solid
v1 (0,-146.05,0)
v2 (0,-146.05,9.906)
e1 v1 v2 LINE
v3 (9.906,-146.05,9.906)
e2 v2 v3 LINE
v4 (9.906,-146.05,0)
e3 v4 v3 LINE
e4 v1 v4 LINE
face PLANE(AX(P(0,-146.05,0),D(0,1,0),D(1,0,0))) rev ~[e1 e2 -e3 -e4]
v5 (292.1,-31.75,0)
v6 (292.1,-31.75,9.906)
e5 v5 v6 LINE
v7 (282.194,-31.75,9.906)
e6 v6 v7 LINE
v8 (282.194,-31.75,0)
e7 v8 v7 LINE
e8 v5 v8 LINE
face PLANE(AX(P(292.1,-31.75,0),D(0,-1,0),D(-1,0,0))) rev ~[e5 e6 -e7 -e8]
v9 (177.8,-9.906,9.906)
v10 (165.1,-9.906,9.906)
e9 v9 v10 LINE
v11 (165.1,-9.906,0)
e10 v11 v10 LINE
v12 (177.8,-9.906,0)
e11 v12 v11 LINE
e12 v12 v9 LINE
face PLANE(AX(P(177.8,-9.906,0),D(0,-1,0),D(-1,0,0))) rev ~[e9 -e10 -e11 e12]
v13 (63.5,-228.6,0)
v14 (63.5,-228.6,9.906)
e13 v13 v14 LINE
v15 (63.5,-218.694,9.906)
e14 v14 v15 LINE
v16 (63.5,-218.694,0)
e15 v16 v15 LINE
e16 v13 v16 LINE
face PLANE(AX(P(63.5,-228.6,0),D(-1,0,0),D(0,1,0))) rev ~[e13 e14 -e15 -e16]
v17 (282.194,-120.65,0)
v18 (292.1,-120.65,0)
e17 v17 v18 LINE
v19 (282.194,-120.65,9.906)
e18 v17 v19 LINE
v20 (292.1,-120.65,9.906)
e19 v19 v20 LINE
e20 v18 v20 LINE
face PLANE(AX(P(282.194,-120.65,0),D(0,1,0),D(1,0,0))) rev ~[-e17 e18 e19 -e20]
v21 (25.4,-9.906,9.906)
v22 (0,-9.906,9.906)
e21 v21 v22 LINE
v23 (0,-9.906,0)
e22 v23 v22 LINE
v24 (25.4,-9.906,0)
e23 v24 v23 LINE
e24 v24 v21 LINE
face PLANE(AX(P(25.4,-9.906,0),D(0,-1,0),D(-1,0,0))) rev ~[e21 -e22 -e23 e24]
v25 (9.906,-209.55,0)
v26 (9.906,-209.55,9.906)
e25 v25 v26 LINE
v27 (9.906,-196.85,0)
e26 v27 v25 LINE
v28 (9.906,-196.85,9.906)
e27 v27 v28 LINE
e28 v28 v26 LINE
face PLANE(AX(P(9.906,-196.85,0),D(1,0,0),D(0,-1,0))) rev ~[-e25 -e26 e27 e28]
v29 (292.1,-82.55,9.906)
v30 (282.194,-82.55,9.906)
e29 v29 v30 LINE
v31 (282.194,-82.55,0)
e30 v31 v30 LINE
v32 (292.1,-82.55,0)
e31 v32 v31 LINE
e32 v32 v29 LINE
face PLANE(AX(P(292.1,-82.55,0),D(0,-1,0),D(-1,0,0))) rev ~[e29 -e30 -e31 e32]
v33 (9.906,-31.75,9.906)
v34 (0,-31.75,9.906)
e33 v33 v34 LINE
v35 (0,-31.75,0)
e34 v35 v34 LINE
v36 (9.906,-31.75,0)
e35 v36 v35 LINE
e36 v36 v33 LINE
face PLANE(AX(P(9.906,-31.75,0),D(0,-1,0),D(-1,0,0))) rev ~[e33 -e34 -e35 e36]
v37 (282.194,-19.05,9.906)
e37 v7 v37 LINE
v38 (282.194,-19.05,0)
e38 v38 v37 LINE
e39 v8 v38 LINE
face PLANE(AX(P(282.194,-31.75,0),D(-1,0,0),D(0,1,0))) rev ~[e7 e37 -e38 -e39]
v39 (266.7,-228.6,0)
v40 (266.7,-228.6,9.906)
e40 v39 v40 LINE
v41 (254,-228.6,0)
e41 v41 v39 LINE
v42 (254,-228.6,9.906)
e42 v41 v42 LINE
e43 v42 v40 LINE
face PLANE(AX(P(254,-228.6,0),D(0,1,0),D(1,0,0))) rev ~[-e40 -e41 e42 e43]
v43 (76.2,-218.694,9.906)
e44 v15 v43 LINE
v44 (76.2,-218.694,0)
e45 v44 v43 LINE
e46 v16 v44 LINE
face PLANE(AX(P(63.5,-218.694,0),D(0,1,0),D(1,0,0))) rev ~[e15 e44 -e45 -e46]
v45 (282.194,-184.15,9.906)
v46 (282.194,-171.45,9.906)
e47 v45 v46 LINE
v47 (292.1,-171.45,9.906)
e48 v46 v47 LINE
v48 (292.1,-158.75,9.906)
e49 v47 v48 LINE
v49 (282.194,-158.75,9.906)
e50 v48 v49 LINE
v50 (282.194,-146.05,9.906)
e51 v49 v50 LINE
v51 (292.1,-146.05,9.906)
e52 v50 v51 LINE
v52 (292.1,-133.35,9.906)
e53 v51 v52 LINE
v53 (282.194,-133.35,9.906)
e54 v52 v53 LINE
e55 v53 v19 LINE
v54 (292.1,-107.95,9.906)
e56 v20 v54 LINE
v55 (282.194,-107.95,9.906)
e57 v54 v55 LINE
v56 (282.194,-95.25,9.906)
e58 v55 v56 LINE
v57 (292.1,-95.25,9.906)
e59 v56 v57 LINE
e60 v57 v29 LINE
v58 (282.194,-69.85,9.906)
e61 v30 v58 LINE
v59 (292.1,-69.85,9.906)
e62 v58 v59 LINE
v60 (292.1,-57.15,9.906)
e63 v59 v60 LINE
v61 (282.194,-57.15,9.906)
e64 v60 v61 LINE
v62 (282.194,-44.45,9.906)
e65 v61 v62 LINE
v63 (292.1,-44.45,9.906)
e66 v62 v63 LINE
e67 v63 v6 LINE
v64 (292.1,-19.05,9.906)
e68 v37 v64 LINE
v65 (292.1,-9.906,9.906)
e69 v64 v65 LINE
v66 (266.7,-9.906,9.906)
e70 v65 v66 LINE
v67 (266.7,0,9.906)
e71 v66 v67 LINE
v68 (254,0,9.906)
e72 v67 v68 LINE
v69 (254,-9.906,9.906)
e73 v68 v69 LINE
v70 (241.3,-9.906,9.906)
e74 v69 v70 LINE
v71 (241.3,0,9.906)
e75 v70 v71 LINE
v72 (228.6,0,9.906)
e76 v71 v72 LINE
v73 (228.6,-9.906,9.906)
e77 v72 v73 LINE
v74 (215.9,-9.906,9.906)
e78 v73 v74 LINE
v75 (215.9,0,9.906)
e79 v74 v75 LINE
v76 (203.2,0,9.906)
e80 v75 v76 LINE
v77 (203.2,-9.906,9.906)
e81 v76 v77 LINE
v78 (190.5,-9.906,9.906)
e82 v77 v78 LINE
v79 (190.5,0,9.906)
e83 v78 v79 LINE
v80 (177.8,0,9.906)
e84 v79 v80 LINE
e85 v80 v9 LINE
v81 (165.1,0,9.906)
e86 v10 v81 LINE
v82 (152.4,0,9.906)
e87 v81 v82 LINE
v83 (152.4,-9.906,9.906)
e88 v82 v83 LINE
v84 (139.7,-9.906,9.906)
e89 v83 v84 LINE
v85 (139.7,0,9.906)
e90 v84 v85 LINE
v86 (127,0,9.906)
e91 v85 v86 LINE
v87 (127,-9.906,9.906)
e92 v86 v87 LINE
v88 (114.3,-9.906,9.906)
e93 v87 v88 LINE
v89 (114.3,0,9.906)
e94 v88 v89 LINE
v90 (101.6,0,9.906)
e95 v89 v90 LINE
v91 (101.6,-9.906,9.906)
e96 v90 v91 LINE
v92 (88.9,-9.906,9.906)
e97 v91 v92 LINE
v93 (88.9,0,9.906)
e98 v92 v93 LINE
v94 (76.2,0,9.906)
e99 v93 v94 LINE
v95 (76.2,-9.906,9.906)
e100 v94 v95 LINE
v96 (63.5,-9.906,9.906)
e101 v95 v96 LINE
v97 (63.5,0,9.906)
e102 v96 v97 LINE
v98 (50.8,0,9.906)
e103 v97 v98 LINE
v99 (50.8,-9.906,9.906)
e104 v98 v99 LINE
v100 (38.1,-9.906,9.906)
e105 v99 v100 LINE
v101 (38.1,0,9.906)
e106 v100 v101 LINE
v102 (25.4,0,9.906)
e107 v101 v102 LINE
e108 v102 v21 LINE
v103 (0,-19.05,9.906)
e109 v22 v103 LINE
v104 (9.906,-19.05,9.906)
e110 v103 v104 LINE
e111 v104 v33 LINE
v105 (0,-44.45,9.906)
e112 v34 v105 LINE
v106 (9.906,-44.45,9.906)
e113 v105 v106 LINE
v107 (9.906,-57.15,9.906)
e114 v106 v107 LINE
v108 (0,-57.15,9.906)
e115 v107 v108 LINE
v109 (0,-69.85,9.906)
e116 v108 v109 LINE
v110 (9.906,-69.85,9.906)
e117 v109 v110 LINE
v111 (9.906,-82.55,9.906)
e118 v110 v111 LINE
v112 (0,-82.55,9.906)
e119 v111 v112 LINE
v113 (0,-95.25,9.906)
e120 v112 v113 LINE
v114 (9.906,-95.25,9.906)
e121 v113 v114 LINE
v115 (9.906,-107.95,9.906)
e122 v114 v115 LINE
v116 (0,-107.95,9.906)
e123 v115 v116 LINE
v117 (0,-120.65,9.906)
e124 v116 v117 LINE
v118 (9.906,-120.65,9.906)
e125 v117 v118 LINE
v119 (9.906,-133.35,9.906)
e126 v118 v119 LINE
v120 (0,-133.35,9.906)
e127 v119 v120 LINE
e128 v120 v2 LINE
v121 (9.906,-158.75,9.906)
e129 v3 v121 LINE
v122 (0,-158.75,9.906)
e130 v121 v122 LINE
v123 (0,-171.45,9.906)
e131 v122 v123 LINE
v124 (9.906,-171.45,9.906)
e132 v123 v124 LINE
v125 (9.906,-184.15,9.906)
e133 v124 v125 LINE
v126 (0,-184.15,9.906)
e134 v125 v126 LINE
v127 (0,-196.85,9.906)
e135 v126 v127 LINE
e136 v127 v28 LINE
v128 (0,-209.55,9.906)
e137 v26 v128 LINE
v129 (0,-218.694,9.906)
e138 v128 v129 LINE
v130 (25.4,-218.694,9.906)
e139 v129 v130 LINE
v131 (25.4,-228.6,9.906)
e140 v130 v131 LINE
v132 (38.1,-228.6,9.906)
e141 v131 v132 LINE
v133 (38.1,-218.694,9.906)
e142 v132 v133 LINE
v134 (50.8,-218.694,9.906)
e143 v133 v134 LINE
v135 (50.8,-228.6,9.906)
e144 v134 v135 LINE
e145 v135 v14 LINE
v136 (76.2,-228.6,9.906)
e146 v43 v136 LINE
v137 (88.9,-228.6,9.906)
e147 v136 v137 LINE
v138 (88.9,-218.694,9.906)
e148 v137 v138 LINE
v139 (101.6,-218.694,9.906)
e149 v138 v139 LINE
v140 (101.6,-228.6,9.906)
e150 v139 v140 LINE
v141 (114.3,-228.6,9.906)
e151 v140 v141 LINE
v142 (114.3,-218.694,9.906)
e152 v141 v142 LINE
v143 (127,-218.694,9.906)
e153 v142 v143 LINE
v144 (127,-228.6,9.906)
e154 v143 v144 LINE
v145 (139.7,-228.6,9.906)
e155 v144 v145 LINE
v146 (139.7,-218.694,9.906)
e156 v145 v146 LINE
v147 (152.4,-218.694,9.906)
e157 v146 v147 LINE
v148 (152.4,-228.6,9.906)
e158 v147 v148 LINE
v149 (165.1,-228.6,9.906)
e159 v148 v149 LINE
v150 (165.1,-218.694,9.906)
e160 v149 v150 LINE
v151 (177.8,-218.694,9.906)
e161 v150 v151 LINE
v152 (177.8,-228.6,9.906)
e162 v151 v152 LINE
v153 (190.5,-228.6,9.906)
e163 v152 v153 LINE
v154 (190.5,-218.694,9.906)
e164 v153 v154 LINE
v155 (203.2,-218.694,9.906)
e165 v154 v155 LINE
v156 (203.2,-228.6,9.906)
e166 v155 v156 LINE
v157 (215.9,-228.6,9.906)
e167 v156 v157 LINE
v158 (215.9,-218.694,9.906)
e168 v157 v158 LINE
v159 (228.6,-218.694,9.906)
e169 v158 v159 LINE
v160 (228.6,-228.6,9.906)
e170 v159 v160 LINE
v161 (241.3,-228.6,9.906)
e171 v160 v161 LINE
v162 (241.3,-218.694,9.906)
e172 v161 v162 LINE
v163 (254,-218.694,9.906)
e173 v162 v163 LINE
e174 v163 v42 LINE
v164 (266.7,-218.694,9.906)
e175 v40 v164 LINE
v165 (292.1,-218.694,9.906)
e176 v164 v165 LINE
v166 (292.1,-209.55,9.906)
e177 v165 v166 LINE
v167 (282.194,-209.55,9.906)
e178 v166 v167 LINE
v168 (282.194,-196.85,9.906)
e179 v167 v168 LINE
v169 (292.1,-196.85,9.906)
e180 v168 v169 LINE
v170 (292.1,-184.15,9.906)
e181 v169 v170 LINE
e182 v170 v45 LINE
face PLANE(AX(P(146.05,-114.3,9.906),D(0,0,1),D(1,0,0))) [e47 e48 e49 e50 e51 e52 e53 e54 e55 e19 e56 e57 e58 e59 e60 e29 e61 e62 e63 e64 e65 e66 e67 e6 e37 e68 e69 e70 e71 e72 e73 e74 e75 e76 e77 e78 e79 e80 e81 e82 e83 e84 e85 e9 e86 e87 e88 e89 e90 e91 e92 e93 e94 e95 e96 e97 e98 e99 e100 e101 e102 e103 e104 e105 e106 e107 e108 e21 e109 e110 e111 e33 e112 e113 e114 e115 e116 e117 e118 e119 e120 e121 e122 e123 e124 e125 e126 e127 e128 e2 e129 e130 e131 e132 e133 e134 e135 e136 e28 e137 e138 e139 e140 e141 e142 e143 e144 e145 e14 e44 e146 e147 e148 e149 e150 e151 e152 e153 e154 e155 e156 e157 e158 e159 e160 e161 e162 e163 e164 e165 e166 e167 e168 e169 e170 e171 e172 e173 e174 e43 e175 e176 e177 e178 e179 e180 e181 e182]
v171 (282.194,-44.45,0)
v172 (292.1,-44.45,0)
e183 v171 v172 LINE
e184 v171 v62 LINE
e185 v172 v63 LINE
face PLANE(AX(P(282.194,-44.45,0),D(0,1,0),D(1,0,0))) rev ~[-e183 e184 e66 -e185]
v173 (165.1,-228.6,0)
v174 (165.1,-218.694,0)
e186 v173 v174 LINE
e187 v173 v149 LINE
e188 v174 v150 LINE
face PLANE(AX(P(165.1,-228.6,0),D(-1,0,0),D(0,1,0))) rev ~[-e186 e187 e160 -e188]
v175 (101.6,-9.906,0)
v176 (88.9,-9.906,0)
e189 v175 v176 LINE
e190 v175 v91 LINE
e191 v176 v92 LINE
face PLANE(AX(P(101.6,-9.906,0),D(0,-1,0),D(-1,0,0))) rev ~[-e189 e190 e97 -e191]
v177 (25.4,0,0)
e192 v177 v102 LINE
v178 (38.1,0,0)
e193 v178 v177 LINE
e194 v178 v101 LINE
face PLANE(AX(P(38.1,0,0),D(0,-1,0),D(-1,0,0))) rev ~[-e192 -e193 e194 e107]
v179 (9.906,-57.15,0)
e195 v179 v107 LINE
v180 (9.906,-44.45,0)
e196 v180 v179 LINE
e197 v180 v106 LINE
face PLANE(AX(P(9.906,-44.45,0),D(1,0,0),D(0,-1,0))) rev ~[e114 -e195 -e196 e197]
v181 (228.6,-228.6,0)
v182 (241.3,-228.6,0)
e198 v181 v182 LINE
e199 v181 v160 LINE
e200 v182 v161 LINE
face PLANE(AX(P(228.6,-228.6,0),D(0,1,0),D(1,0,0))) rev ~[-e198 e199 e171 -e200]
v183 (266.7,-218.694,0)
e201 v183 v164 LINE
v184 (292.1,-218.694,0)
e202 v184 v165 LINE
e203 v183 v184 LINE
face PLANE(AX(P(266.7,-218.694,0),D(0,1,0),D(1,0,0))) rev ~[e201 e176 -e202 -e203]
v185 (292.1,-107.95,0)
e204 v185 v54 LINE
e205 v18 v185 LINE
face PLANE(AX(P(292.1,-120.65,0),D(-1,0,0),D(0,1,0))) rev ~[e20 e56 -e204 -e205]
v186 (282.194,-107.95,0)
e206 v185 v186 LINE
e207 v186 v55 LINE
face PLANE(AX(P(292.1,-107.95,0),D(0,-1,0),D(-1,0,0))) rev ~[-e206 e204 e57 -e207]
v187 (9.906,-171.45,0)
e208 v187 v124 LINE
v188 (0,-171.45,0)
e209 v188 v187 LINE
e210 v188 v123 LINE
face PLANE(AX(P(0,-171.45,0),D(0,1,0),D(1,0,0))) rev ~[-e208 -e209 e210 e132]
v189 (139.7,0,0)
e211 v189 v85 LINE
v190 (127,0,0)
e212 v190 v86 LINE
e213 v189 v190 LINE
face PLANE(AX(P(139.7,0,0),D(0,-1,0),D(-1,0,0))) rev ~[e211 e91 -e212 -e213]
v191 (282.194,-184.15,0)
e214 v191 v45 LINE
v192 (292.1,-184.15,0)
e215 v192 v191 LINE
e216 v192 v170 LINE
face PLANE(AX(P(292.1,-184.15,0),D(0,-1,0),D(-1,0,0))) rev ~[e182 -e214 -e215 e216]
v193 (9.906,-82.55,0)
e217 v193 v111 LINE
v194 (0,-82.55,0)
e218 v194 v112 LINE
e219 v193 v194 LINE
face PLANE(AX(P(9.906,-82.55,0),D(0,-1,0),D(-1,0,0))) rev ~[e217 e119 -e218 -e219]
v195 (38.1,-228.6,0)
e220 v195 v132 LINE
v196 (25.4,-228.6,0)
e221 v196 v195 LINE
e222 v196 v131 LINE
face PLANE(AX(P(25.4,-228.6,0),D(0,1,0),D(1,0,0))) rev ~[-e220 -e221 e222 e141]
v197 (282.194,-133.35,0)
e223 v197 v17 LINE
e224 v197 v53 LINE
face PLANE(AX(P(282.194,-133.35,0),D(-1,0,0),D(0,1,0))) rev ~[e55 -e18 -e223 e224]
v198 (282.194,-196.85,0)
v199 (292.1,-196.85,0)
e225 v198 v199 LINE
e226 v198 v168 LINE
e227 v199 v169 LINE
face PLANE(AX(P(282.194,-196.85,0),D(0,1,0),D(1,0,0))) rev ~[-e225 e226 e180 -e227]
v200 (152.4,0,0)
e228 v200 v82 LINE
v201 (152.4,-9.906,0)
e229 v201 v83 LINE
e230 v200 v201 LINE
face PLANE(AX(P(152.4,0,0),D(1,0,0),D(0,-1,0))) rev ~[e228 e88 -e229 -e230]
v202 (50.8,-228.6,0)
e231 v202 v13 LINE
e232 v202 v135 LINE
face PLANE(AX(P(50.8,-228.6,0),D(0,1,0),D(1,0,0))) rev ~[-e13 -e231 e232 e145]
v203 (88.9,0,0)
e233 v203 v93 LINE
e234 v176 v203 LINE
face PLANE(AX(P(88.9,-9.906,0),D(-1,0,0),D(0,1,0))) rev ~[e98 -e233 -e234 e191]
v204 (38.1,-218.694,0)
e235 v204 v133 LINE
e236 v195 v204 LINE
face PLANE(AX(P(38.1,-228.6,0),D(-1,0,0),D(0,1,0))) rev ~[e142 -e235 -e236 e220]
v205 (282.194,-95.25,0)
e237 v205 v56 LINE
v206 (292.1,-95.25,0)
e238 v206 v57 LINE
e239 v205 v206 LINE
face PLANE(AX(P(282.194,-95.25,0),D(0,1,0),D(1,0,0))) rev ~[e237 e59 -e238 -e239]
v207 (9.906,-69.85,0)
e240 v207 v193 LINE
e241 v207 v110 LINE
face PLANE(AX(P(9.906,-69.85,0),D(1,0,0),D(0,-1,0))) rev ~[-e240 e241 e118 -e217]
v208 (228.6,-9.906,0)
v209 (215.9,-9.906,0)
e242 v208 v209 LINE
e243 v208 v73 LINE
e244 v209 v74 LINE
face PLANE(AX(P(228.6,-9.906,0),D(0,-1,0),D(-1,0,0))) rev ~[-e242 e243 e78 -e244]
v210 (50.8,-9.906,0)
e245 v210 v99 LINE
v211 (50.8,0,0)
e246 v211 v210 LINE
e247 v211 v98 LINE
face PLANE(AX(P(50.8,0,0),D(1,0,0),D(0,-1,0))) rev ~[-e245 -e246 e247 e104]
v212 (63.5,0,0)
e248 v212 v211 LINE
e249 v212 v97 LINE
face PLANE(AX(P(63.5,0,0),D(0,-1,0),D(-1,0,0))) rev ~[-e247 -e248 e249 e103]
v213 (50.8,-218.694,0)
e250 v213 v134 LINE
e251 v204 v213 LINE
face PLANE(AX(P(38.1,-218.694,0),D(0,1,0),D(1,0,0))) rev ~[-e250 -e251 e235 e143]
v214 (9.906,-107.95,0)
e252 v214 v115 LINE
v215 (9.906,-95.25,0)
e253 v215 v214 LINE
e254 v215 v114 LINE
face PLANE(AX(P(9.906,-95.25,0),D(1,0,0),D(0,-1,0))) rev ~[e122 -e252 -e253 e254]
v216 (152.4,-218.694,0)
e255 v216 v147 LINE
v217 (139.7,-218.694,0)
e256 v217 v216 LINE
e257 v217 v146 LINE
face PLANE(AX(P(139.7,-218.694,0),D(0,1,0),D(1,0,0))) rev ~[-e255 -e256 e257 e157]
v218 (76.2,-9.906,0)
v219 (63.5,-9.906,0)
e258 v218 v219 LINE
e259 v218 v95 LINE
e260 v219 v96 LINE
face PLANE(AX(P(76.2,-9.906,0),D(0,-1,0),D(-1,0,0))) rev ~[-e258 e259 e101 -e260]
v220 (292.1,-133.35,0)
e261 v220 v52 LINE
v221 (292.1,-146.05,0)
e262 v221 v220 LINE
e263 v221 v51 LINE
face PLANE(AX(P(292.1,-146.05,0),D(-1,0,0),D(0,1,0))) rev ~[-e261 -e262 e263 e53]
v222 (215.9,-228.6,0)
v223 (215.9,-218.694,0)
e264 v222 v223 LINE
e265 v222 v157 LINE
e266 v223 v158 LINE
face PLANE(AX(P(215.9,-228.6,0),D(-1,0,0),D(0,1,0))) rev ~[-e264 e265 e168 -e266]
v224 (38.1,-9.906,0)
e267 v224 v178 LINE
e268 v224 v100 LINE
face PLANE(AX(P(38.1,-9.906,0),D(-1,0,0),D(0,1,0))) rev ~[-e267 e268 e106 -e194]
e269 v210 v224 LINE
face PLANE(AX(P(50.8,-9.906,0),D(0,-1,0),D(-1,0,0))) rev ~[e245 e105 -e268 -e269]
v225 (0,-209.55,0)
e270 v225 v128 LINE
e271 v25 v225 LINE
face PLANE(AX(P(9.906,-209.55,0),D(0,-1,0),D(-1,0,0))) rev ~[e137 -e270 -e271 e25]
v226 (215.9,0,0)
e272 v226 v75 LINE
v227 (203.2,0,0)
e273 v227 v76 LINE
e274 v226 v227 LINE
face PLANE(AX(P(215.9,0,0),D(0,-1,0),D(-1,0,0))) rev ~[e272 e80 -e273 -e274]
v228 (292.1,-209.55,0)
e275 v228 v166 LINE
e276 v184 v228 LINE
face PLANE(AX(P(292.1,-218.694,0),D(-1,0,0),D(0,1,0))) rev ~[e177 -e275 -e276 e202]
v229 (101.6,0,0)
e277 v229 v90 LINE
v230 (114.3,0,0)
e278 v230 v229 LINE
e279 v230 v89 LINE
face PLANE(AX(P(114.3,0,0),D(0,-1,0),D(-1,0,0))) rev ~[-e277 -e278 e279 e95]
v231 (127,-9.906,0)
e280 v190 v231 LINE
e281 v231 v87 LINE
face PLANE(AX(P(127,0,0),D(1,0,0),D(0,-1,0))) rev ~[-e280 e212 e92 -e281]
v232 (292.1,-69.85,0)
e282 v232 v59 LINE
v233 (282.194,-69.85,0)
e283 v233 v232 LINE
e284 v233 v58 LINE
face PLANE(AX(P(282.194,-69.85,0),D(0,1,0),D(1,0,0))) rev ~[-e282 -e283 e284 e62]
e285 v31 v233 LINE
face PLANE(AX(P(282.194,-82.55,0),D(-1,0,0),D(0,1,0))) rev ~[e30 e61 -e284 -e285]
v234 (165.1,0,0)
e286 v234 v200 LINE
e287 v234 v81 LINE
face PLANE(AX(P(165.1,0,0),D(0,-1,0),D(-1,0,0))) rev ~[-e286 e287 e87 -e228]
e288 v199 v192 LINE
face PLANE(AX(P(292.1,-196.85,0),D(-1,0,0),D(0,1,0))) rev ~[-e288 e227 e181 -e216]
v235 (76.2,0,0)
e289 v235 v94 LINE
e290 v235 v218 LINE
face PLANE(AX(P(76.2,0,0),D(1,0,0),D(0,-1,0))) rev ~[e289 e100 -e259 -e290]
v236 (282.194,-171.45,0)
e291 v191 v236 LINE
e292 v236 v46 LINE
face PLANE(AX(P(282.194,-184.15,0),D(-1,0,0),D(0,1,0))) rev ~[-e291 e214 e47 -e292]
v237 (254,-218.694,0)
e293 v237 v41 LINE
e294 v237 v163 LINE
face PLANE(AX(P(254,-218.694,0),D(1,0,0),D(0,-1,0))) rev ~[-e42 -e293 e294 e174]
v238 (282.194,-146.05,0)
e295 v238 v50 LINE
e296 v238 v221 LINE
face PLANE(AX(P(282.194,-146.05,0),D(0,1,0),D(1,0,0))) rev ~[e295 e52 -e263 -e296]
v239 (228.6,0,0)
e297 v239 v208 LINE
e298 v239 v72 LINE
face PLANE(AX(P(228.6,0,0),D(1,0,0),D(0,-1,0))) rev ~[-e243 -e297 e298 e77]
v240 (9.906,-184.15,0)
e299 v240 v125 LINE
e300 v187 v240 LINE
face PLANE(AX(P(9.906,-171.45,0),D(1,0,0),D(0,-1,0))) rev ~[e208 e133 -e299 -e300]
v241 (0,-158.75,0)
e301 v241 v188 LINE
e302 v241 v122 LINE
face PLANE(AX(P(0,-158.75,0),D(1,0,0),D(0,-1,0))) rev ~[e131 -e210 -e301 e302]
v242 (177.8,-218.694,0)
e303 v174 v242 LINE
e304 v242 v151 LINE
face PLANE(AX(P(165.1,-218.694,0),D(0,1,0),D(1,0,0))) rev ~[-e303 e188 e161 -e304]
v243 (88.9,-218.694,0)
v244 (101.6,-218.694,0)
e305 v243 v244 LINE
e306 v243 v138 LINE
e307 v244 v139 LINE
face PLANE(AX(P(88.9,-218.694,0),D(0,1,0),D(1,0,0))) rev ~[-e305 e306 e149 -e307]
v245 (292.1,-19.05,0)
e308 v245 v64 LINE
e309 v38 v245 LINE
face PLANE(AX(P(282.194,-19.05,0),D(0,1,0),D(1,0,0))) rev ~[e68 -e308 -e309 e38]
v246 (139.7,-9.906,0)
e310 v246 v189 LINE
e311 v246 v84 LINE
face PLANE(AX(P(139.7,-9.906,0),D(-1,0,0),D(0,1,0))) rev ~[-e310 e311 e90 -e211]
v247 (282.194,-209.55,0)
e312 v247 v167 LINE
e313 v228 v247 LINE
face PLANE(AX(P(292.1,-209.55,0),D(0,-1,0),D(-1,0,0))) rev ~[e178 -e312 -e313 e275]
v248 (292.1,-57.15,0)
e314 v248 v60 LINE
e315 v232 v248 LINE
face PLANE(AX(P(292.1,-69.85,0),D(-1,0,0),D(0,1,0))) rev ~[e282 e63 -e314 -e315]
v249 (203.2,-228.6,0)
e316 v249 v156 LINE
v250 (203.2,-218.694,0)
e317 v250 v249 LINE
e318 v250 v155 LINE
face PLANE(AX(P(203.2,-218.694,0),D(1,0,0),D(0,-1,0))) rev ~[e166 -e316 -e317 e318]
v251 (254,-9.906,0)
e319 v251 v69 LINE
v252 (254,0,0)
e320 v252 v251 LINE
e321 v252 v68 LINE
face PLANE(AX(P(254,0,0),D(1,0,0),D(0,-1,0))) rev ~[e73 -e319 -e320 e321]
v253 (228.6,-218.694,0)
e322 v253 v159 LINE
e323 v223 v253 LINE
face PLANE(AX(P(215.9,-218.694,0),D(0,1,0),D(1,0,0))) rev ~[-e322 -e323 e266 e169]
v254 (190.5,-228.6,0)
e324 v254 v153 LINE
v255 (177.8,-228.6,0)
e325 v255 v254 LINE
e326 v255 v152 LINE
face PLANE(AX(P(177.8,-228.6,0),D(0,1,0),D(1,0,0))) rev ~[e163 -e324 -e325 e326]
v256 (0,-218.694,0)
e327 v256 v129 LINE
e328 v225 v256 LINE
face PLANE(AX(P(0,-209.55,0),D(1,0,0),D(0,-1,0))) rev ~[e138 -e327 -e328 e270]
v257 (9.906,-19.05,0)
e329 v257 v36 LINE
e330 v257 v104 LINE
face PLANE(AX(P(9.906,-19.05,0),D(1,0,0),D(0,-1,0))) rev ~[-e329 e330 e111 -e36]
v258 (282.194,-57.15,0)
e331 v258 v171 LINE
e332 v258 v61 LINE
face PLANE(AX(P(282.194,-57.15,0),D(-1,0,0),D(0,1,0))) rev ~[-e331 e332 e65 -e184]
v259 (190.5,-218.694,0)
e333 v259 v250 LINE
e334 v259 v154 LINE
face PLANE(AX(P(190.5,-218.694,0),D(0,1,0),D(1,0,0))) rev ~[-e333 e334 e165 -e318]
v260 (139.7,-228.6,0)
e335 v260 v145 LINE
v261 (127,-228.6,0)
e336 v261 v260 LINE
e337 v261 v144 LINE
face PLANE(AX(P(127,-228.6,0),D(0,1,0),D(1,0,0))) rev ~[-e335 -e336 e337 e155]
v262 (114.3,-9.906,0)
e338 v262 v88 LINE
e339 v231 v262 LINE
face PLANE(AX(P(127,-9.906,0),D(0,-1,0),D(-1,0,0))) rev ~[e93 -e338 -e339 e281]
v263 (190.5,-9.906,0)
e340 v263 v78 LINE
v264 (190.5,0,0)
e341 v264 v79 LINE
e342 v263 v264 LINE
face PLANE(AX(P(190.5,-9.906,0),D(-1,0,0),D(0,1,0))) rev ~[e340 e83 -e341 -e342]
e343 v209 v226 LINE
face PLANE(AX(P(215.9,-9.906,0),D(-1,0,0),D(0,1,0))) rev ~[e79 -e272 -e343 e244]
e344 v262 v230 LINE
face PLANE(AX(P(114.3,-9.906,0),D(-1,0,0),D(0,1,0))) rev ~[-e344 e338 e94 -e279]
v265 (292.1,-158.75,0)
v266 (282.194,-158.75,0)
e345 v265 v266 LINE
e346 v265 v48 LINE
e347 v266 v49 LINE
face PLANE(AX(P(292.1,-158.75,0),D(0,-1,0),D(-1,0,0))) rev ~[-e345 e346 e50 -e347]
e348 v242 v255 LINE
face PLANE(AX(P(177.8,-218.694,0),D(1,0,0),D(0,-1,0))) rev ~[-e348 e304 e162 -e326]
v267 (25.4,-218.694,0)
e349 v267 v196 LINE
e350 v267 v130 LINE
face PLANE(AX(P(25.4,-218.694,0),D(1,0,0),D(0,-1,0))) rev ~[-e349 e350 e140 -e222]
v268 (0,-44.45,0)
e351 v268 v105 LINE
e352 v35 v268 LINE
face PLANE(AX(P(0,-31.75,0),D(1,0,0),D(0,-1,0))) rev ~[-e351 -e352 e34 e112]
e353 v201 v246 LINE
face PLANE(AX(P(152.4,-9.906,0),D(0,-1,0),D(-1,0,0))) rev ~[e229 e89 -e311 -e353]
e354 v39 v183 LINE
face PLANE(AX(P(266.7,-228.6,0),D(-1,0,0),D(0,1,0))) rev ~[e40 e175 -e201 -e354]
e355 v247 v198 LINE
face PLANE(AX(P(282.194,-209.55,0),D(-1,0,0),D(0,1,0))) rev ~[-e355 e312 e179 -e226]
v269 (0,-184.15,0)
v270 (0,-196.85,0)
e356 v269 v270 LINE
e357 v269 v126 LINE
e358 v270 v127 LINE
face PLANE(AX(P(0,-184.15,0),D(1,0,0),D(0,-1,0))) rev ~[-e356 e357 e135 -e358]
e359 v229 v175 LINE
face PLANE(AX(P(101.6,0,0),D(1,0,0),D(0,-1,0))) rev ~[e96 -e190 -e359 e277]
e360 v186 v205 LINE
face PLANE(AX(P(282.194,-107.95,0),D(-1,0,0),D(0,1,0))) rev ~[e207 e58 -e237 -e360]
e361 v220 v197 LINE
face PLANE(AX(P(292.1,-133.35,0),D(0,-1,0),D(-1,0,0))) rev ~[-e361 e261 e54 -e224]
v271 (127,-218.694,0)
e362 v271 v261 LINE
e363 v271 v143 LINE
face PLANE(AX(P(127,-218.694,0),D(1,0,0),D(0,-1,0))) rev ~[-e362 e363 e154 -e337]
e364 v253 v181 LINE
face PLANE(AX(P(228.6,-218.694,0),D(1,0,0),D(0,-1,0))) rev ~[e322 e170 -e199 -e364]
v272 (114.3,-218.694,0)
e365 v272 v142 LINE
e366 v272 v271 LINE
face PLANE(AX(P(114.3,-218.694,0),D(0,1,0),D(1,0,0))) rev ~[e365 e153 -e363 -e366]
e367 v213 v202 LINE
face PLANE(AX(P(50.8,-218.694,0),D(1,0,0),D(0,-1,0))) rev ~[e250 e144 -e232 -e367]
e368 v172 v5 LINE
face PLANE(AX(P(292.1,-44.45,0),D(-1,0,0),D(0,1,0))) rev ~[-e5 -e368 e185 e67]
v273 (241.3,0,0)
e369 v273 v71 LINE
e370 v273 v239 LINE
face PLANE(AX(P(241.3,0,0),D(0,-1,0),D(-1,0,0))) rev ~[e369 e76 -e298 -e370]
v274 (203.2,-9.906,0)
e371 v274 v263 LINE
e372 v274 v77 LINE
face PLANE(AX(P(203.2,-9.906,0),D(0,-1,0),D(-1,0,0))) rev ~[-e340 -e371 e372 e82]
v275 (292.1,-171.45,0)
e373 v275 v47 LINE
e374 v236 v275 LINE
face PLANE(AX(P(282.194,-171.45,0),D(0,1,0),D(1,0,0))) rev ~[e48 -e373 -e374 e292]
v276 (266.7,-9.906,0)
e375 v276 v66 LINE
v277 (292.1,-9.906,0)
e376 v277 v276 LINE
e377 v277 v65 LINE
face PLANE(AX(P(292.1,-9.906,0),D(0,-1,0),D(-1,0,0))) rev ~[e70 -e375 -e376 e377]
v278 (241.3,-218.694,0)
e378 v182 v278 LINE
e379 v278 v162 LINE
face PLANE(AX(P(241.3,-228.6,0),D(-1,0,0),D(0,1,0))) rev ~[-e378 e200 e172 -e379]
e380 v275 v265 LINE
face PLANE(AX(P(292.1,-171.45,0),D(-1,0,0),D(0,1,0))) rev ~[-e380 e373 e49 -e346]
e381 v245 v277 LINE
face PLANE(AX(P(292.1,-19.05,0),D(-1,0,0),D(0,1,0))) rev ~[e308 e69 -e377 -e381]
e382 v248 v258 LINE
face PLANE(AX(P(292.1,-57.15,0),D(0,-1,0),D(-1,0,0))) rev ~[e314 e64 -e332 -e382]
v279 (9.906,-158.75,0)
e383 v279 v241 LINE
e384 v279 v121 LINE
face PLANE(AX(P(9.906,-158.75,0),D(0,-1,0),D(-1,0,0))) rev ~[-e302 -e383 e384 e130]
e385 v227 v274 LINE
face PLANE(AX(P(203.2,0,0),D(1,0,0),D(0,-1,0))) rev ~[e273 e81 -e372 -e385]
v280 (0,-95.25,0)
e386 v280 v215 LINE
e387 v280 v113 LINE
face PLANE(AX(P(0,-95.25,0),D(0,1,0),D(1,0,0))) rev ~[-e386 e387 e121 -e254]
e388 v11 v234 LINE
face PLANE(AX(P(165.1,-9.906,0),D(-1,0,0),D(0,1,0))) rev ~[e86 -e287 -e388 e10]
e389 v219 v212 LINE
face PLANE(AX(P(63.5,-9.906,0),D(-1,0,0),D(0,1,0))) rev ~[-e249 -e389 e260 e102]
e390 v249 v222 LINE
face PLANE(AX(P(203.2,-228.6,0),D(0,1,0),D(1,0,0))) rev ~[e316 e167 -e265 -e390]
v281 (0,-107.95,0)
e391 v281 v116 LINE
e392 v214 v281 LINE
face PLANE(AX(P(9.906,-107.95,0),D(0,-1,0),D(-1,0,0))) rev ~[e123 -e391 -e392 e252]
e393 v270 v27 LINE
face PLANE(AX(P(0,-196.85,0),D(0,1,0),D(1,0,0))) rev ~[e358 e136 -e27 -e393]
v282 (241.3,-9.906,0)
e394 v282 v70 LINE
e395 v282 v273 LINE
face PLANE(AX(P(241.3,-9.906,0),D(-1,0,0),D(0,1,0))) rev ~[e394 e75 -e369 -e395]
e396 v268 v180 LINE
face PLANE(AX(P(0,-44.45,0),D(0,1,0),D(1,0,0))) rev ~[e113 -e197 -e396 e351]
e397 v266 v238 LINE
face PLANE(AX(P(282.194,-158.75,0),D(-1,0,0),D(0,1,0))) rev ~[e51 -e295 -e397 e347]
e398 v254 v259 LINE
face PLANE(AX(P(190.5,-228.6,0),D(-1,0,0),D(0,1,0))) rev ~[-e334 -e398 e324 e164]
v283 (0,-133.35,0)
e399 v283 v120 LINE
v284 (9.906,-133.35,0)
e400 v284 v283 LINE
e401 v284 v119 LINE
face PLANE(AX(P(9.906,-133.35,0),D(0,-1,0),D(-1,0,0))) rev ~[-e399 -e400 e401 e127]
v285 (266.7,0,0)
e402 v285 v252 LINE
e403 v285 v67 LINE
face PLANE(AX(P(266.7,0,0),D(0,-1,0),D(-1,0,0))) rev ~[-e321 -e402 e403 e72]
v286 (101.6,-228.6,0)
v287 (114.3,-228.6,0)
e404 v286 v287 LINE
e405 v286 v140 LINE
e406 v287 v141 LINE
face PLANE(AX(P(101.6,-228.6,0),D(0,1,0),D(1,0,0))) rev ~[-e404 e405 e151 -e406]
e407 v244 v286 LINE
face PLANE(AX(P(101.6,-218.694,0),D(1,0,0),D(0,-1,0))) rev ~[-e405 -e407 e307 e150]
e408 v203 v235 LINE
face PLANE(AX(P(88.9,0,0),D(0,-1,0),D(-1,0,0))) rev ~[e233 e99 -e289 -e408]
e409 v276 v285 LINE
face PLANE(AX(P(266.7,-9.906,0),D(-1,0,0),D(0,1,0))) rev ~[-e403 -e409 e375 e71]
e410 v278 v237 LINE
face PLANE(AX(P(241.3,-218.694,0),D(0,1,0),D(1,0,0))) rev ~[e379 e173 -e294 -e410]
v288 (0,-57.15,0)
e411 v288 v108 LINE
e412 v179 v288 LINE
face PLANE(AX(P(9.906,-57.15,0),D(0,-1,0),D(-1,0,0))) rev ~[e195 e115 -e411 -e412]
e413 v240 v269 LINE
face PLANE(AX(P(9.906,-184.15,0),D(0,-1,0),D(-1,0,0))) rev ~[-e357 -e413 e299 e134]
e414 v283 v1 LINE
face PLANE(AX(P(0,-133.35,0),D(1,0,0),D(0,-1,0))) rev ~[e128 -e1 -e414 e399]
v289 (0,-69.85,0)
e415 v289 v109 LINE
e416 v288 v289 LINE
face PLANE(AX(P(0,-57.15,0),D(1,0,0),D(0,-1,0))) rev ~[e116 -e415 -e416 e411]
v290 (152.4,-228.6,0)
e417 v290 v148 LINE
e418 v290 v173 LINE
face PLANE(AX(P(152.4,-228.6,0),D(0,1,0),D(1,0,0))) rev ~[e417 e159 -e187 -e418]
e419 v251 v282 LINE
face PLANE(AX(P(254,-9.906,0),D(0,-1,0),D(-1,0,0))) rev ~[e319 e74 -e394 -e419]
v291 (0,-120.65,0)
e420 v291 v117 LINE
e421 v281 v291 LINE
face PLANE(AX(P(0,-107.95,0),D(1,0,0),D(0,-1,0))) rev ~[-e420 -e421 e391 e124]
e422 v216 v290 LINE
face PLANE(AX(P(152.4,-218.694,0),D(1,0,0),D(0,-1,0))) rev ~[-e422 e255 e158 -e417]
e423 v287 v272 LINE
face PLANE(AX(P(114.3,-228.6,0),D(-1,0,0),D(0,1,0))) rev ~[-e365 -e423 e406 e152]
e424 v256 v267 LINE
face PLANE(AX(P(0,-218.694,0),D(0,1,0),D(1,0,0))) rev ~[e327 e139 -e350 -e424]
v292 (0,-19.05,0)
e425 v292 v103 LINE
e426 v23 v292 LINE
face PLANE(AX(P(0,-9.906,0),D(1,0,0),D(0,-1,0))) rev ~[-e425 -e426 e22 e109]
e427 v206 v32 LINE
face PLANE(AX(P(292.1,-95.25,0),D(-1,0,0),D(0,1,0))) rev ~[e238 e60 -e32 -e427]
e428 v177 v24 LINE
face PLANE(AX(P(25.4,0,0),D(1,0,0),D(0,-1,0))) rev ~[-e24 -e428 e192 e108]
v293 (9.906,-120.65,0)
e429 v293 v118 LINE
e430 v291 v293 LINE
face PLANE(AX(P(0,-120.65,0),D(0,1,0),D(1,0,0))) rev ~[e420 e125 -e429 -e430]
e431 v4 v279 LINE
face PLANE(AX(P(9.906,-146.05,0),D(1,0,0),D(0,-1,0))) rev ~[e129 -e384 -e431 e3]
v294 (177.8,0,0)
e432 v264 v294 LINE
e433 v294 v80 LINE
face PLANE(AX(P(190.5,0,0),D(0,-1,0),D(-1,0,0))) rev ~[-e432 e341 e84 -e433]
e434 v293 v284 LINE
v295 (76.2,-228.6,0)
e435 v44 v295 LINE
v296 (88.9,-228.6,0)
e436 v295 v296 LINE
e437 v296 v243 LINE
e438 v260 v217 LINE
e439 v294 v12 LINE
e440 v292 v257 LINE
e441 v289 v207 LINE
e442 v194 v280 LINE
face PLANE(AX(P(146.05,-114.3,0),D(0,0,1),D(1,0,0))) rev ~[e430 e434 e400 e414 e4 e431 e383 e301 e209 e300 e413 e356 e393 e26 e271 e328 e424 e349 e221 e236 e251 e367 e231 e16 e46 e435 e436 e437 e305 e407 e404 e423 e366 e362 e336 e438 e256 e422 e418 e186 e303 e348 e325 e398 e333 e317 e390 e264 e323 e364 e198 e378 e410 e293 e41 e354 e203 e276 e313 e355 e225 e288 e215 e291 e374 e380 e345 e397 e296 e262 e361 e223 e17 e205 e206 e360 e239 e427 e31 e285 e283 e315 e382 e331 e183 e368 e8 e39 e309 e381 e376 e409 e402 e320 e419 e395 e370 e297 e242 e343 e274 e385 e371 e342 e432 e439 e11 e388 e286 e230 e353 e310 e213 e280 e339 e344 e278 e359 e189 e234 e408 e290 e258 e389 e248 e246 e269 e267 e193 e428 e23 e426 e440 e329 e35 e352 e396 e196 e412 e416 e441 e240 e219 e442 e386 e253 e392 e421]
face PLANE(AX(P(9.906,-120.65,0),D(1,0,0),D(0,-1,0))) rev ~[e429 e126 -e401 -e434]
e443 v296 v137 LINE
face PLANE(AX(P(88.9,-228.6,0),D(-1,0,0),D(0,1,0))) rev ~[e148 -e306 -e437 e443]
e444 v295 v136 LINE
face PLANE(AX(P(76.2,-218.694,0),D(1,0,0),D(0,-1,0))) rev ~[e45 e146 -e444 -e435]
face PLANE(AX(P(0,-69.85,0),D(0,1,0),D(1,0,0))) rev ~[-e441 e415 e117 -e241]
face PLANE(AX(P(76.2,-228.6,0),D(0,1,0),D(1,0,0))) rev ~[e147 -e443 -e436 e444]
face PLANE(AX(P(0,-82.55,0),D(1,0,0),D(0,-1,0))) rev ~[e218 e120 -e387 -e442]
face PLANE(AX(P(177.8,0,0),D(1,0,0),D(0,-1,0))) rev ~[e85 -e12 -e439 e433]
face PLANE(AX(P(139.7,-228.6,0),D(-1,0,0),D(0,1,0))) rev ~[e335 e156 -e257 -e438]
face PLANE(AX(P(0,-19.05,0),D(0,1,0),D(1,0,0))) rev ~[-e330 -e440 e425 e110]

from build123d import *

# Parameters (mm, degrees)
F1_DEPTH = 9.906


with BuildPart() as f1:
    # F0 (on Top) → F1 (new body)
    with BuildSketch(Plane.XY):
        Polygon((38.1, 0), (25.4, 0), (25.4, -9.906), (0, -9.906), (0, -19.05), (9.906, -19.05), (9.906, -31.75), (0, -31.75), (0, -44.45), (9.906, -44.45), (9.906, -57.15), (0, -57.15), (0, -69.85), (9.906, -69.85), (9.906, -82.55), (0, -82.55), (0, -95.25), (9.906, -95.25), (9.906, -107.95), (0, -107.95), (0, -120.65), (9.906, -120.65), (9.906, -133.35), (0, -133.35), (0, -146.05), (9.906, -146.05), (9.906, -158.75), (0, -158.75), (0, -171.45), (9.906, -171.45), (9.906, -184.15), (0, -184.15), (0, -196.85), (9.906, -196.85), (9.906, -209.55), (0, -209.55), (0, -218.694), (25.4, -218.694), (25.4, -228.6), (38.1, -228.6), (38.1, -218.694), (50.8, -218.694), (50.8, -228.6), (63.5, -228.6), (63.5, -218.694), (76.2, -218.694), (76.2, -228.6), (88.9, -228.6), (88.9, -218.694), (101.6, -218.694), (101.6, -228.6), (114.3, -228.6), (114.3, -218.694), (127, -218.694), (127, -228.6), (139.7, -228.6), (139.7, -218.694), (152.4, -218.694), (152.4, -228.6), (165.1, -228.6), (165.1, -218.694), (177.8, -218.694), (177.8, -228.6), (190.5, -228.6), (190.5, -218.694), (203.2, -218.694), (203.2, -228.6), (215.9, -228.6), (215.9, -218.694), (228.6, -218.694), (228.6, -228.6), (241.3, -228.6), (241.3, -218.694), (254, -218.694), (254, -228.6), (266.7, -228.6), (266.7, -218.694), (292.1, -218.694), (292.1, -209.55), (282.194, -209.55), (282.194, -196.85), (292.1, -196.85), (292.1, -184.15), (282.194, -184.15), (282.194, -171.45), (292.1, -171.45), (292.1, -158.75), (282.194, -158.75), (282.194, -146.05), (292.1, -146.05), (292.1, -133.35), (282.194, -133.35), (282.194, -120.65), (292.1, -120.65), (292.1, -107.95), (282.194, -107.95), (282.194, -95.25), (292.1, -95.25), (292.1, -82.55), (282.194, -82.55), (282.194, -69.85), (292.1, -69.85), (292.1, -57.15), (282.194, -57.15), (282.194, -44.45), (292.1, -44.45), (292.1, -31.75), (282.194, -31.75), (282.194, -19.05), (292.1, -19.05), (292.1, -9.906), (266.7, -9.906), (266.7, 0), (254, 0), (254, -9.906), (241.3, -9.906), (241.3, 0), (228.6, 0), (228.6, -9.906), (215.9, -9.906), (215.9, 0), (203.2, 0), (203.2, -9.906), (190.5, -9.906), (190.5, 0), (177.8, 0), (177.8, -9.906), (165.1, -9.906), (165.1, 0), (152.4, 0), (152.4, -9.906), (139.7, -9.906), (139.7, 0), (127, 0), (127, -9.906), (114.3, -9.906), (114.3, 0), (101.6, 0), (101.6, -9.906), (88.9, -9.906), (88.9, 0), (76.2, 0), (76.2, -9.906), (63.5, -9.906), (63.5, 0), (50.8, 0), (50.8, -9.906), (38.1, -9.906), align=None)
    extrude(amount=F1_DEPTH)


solid = f1.part
